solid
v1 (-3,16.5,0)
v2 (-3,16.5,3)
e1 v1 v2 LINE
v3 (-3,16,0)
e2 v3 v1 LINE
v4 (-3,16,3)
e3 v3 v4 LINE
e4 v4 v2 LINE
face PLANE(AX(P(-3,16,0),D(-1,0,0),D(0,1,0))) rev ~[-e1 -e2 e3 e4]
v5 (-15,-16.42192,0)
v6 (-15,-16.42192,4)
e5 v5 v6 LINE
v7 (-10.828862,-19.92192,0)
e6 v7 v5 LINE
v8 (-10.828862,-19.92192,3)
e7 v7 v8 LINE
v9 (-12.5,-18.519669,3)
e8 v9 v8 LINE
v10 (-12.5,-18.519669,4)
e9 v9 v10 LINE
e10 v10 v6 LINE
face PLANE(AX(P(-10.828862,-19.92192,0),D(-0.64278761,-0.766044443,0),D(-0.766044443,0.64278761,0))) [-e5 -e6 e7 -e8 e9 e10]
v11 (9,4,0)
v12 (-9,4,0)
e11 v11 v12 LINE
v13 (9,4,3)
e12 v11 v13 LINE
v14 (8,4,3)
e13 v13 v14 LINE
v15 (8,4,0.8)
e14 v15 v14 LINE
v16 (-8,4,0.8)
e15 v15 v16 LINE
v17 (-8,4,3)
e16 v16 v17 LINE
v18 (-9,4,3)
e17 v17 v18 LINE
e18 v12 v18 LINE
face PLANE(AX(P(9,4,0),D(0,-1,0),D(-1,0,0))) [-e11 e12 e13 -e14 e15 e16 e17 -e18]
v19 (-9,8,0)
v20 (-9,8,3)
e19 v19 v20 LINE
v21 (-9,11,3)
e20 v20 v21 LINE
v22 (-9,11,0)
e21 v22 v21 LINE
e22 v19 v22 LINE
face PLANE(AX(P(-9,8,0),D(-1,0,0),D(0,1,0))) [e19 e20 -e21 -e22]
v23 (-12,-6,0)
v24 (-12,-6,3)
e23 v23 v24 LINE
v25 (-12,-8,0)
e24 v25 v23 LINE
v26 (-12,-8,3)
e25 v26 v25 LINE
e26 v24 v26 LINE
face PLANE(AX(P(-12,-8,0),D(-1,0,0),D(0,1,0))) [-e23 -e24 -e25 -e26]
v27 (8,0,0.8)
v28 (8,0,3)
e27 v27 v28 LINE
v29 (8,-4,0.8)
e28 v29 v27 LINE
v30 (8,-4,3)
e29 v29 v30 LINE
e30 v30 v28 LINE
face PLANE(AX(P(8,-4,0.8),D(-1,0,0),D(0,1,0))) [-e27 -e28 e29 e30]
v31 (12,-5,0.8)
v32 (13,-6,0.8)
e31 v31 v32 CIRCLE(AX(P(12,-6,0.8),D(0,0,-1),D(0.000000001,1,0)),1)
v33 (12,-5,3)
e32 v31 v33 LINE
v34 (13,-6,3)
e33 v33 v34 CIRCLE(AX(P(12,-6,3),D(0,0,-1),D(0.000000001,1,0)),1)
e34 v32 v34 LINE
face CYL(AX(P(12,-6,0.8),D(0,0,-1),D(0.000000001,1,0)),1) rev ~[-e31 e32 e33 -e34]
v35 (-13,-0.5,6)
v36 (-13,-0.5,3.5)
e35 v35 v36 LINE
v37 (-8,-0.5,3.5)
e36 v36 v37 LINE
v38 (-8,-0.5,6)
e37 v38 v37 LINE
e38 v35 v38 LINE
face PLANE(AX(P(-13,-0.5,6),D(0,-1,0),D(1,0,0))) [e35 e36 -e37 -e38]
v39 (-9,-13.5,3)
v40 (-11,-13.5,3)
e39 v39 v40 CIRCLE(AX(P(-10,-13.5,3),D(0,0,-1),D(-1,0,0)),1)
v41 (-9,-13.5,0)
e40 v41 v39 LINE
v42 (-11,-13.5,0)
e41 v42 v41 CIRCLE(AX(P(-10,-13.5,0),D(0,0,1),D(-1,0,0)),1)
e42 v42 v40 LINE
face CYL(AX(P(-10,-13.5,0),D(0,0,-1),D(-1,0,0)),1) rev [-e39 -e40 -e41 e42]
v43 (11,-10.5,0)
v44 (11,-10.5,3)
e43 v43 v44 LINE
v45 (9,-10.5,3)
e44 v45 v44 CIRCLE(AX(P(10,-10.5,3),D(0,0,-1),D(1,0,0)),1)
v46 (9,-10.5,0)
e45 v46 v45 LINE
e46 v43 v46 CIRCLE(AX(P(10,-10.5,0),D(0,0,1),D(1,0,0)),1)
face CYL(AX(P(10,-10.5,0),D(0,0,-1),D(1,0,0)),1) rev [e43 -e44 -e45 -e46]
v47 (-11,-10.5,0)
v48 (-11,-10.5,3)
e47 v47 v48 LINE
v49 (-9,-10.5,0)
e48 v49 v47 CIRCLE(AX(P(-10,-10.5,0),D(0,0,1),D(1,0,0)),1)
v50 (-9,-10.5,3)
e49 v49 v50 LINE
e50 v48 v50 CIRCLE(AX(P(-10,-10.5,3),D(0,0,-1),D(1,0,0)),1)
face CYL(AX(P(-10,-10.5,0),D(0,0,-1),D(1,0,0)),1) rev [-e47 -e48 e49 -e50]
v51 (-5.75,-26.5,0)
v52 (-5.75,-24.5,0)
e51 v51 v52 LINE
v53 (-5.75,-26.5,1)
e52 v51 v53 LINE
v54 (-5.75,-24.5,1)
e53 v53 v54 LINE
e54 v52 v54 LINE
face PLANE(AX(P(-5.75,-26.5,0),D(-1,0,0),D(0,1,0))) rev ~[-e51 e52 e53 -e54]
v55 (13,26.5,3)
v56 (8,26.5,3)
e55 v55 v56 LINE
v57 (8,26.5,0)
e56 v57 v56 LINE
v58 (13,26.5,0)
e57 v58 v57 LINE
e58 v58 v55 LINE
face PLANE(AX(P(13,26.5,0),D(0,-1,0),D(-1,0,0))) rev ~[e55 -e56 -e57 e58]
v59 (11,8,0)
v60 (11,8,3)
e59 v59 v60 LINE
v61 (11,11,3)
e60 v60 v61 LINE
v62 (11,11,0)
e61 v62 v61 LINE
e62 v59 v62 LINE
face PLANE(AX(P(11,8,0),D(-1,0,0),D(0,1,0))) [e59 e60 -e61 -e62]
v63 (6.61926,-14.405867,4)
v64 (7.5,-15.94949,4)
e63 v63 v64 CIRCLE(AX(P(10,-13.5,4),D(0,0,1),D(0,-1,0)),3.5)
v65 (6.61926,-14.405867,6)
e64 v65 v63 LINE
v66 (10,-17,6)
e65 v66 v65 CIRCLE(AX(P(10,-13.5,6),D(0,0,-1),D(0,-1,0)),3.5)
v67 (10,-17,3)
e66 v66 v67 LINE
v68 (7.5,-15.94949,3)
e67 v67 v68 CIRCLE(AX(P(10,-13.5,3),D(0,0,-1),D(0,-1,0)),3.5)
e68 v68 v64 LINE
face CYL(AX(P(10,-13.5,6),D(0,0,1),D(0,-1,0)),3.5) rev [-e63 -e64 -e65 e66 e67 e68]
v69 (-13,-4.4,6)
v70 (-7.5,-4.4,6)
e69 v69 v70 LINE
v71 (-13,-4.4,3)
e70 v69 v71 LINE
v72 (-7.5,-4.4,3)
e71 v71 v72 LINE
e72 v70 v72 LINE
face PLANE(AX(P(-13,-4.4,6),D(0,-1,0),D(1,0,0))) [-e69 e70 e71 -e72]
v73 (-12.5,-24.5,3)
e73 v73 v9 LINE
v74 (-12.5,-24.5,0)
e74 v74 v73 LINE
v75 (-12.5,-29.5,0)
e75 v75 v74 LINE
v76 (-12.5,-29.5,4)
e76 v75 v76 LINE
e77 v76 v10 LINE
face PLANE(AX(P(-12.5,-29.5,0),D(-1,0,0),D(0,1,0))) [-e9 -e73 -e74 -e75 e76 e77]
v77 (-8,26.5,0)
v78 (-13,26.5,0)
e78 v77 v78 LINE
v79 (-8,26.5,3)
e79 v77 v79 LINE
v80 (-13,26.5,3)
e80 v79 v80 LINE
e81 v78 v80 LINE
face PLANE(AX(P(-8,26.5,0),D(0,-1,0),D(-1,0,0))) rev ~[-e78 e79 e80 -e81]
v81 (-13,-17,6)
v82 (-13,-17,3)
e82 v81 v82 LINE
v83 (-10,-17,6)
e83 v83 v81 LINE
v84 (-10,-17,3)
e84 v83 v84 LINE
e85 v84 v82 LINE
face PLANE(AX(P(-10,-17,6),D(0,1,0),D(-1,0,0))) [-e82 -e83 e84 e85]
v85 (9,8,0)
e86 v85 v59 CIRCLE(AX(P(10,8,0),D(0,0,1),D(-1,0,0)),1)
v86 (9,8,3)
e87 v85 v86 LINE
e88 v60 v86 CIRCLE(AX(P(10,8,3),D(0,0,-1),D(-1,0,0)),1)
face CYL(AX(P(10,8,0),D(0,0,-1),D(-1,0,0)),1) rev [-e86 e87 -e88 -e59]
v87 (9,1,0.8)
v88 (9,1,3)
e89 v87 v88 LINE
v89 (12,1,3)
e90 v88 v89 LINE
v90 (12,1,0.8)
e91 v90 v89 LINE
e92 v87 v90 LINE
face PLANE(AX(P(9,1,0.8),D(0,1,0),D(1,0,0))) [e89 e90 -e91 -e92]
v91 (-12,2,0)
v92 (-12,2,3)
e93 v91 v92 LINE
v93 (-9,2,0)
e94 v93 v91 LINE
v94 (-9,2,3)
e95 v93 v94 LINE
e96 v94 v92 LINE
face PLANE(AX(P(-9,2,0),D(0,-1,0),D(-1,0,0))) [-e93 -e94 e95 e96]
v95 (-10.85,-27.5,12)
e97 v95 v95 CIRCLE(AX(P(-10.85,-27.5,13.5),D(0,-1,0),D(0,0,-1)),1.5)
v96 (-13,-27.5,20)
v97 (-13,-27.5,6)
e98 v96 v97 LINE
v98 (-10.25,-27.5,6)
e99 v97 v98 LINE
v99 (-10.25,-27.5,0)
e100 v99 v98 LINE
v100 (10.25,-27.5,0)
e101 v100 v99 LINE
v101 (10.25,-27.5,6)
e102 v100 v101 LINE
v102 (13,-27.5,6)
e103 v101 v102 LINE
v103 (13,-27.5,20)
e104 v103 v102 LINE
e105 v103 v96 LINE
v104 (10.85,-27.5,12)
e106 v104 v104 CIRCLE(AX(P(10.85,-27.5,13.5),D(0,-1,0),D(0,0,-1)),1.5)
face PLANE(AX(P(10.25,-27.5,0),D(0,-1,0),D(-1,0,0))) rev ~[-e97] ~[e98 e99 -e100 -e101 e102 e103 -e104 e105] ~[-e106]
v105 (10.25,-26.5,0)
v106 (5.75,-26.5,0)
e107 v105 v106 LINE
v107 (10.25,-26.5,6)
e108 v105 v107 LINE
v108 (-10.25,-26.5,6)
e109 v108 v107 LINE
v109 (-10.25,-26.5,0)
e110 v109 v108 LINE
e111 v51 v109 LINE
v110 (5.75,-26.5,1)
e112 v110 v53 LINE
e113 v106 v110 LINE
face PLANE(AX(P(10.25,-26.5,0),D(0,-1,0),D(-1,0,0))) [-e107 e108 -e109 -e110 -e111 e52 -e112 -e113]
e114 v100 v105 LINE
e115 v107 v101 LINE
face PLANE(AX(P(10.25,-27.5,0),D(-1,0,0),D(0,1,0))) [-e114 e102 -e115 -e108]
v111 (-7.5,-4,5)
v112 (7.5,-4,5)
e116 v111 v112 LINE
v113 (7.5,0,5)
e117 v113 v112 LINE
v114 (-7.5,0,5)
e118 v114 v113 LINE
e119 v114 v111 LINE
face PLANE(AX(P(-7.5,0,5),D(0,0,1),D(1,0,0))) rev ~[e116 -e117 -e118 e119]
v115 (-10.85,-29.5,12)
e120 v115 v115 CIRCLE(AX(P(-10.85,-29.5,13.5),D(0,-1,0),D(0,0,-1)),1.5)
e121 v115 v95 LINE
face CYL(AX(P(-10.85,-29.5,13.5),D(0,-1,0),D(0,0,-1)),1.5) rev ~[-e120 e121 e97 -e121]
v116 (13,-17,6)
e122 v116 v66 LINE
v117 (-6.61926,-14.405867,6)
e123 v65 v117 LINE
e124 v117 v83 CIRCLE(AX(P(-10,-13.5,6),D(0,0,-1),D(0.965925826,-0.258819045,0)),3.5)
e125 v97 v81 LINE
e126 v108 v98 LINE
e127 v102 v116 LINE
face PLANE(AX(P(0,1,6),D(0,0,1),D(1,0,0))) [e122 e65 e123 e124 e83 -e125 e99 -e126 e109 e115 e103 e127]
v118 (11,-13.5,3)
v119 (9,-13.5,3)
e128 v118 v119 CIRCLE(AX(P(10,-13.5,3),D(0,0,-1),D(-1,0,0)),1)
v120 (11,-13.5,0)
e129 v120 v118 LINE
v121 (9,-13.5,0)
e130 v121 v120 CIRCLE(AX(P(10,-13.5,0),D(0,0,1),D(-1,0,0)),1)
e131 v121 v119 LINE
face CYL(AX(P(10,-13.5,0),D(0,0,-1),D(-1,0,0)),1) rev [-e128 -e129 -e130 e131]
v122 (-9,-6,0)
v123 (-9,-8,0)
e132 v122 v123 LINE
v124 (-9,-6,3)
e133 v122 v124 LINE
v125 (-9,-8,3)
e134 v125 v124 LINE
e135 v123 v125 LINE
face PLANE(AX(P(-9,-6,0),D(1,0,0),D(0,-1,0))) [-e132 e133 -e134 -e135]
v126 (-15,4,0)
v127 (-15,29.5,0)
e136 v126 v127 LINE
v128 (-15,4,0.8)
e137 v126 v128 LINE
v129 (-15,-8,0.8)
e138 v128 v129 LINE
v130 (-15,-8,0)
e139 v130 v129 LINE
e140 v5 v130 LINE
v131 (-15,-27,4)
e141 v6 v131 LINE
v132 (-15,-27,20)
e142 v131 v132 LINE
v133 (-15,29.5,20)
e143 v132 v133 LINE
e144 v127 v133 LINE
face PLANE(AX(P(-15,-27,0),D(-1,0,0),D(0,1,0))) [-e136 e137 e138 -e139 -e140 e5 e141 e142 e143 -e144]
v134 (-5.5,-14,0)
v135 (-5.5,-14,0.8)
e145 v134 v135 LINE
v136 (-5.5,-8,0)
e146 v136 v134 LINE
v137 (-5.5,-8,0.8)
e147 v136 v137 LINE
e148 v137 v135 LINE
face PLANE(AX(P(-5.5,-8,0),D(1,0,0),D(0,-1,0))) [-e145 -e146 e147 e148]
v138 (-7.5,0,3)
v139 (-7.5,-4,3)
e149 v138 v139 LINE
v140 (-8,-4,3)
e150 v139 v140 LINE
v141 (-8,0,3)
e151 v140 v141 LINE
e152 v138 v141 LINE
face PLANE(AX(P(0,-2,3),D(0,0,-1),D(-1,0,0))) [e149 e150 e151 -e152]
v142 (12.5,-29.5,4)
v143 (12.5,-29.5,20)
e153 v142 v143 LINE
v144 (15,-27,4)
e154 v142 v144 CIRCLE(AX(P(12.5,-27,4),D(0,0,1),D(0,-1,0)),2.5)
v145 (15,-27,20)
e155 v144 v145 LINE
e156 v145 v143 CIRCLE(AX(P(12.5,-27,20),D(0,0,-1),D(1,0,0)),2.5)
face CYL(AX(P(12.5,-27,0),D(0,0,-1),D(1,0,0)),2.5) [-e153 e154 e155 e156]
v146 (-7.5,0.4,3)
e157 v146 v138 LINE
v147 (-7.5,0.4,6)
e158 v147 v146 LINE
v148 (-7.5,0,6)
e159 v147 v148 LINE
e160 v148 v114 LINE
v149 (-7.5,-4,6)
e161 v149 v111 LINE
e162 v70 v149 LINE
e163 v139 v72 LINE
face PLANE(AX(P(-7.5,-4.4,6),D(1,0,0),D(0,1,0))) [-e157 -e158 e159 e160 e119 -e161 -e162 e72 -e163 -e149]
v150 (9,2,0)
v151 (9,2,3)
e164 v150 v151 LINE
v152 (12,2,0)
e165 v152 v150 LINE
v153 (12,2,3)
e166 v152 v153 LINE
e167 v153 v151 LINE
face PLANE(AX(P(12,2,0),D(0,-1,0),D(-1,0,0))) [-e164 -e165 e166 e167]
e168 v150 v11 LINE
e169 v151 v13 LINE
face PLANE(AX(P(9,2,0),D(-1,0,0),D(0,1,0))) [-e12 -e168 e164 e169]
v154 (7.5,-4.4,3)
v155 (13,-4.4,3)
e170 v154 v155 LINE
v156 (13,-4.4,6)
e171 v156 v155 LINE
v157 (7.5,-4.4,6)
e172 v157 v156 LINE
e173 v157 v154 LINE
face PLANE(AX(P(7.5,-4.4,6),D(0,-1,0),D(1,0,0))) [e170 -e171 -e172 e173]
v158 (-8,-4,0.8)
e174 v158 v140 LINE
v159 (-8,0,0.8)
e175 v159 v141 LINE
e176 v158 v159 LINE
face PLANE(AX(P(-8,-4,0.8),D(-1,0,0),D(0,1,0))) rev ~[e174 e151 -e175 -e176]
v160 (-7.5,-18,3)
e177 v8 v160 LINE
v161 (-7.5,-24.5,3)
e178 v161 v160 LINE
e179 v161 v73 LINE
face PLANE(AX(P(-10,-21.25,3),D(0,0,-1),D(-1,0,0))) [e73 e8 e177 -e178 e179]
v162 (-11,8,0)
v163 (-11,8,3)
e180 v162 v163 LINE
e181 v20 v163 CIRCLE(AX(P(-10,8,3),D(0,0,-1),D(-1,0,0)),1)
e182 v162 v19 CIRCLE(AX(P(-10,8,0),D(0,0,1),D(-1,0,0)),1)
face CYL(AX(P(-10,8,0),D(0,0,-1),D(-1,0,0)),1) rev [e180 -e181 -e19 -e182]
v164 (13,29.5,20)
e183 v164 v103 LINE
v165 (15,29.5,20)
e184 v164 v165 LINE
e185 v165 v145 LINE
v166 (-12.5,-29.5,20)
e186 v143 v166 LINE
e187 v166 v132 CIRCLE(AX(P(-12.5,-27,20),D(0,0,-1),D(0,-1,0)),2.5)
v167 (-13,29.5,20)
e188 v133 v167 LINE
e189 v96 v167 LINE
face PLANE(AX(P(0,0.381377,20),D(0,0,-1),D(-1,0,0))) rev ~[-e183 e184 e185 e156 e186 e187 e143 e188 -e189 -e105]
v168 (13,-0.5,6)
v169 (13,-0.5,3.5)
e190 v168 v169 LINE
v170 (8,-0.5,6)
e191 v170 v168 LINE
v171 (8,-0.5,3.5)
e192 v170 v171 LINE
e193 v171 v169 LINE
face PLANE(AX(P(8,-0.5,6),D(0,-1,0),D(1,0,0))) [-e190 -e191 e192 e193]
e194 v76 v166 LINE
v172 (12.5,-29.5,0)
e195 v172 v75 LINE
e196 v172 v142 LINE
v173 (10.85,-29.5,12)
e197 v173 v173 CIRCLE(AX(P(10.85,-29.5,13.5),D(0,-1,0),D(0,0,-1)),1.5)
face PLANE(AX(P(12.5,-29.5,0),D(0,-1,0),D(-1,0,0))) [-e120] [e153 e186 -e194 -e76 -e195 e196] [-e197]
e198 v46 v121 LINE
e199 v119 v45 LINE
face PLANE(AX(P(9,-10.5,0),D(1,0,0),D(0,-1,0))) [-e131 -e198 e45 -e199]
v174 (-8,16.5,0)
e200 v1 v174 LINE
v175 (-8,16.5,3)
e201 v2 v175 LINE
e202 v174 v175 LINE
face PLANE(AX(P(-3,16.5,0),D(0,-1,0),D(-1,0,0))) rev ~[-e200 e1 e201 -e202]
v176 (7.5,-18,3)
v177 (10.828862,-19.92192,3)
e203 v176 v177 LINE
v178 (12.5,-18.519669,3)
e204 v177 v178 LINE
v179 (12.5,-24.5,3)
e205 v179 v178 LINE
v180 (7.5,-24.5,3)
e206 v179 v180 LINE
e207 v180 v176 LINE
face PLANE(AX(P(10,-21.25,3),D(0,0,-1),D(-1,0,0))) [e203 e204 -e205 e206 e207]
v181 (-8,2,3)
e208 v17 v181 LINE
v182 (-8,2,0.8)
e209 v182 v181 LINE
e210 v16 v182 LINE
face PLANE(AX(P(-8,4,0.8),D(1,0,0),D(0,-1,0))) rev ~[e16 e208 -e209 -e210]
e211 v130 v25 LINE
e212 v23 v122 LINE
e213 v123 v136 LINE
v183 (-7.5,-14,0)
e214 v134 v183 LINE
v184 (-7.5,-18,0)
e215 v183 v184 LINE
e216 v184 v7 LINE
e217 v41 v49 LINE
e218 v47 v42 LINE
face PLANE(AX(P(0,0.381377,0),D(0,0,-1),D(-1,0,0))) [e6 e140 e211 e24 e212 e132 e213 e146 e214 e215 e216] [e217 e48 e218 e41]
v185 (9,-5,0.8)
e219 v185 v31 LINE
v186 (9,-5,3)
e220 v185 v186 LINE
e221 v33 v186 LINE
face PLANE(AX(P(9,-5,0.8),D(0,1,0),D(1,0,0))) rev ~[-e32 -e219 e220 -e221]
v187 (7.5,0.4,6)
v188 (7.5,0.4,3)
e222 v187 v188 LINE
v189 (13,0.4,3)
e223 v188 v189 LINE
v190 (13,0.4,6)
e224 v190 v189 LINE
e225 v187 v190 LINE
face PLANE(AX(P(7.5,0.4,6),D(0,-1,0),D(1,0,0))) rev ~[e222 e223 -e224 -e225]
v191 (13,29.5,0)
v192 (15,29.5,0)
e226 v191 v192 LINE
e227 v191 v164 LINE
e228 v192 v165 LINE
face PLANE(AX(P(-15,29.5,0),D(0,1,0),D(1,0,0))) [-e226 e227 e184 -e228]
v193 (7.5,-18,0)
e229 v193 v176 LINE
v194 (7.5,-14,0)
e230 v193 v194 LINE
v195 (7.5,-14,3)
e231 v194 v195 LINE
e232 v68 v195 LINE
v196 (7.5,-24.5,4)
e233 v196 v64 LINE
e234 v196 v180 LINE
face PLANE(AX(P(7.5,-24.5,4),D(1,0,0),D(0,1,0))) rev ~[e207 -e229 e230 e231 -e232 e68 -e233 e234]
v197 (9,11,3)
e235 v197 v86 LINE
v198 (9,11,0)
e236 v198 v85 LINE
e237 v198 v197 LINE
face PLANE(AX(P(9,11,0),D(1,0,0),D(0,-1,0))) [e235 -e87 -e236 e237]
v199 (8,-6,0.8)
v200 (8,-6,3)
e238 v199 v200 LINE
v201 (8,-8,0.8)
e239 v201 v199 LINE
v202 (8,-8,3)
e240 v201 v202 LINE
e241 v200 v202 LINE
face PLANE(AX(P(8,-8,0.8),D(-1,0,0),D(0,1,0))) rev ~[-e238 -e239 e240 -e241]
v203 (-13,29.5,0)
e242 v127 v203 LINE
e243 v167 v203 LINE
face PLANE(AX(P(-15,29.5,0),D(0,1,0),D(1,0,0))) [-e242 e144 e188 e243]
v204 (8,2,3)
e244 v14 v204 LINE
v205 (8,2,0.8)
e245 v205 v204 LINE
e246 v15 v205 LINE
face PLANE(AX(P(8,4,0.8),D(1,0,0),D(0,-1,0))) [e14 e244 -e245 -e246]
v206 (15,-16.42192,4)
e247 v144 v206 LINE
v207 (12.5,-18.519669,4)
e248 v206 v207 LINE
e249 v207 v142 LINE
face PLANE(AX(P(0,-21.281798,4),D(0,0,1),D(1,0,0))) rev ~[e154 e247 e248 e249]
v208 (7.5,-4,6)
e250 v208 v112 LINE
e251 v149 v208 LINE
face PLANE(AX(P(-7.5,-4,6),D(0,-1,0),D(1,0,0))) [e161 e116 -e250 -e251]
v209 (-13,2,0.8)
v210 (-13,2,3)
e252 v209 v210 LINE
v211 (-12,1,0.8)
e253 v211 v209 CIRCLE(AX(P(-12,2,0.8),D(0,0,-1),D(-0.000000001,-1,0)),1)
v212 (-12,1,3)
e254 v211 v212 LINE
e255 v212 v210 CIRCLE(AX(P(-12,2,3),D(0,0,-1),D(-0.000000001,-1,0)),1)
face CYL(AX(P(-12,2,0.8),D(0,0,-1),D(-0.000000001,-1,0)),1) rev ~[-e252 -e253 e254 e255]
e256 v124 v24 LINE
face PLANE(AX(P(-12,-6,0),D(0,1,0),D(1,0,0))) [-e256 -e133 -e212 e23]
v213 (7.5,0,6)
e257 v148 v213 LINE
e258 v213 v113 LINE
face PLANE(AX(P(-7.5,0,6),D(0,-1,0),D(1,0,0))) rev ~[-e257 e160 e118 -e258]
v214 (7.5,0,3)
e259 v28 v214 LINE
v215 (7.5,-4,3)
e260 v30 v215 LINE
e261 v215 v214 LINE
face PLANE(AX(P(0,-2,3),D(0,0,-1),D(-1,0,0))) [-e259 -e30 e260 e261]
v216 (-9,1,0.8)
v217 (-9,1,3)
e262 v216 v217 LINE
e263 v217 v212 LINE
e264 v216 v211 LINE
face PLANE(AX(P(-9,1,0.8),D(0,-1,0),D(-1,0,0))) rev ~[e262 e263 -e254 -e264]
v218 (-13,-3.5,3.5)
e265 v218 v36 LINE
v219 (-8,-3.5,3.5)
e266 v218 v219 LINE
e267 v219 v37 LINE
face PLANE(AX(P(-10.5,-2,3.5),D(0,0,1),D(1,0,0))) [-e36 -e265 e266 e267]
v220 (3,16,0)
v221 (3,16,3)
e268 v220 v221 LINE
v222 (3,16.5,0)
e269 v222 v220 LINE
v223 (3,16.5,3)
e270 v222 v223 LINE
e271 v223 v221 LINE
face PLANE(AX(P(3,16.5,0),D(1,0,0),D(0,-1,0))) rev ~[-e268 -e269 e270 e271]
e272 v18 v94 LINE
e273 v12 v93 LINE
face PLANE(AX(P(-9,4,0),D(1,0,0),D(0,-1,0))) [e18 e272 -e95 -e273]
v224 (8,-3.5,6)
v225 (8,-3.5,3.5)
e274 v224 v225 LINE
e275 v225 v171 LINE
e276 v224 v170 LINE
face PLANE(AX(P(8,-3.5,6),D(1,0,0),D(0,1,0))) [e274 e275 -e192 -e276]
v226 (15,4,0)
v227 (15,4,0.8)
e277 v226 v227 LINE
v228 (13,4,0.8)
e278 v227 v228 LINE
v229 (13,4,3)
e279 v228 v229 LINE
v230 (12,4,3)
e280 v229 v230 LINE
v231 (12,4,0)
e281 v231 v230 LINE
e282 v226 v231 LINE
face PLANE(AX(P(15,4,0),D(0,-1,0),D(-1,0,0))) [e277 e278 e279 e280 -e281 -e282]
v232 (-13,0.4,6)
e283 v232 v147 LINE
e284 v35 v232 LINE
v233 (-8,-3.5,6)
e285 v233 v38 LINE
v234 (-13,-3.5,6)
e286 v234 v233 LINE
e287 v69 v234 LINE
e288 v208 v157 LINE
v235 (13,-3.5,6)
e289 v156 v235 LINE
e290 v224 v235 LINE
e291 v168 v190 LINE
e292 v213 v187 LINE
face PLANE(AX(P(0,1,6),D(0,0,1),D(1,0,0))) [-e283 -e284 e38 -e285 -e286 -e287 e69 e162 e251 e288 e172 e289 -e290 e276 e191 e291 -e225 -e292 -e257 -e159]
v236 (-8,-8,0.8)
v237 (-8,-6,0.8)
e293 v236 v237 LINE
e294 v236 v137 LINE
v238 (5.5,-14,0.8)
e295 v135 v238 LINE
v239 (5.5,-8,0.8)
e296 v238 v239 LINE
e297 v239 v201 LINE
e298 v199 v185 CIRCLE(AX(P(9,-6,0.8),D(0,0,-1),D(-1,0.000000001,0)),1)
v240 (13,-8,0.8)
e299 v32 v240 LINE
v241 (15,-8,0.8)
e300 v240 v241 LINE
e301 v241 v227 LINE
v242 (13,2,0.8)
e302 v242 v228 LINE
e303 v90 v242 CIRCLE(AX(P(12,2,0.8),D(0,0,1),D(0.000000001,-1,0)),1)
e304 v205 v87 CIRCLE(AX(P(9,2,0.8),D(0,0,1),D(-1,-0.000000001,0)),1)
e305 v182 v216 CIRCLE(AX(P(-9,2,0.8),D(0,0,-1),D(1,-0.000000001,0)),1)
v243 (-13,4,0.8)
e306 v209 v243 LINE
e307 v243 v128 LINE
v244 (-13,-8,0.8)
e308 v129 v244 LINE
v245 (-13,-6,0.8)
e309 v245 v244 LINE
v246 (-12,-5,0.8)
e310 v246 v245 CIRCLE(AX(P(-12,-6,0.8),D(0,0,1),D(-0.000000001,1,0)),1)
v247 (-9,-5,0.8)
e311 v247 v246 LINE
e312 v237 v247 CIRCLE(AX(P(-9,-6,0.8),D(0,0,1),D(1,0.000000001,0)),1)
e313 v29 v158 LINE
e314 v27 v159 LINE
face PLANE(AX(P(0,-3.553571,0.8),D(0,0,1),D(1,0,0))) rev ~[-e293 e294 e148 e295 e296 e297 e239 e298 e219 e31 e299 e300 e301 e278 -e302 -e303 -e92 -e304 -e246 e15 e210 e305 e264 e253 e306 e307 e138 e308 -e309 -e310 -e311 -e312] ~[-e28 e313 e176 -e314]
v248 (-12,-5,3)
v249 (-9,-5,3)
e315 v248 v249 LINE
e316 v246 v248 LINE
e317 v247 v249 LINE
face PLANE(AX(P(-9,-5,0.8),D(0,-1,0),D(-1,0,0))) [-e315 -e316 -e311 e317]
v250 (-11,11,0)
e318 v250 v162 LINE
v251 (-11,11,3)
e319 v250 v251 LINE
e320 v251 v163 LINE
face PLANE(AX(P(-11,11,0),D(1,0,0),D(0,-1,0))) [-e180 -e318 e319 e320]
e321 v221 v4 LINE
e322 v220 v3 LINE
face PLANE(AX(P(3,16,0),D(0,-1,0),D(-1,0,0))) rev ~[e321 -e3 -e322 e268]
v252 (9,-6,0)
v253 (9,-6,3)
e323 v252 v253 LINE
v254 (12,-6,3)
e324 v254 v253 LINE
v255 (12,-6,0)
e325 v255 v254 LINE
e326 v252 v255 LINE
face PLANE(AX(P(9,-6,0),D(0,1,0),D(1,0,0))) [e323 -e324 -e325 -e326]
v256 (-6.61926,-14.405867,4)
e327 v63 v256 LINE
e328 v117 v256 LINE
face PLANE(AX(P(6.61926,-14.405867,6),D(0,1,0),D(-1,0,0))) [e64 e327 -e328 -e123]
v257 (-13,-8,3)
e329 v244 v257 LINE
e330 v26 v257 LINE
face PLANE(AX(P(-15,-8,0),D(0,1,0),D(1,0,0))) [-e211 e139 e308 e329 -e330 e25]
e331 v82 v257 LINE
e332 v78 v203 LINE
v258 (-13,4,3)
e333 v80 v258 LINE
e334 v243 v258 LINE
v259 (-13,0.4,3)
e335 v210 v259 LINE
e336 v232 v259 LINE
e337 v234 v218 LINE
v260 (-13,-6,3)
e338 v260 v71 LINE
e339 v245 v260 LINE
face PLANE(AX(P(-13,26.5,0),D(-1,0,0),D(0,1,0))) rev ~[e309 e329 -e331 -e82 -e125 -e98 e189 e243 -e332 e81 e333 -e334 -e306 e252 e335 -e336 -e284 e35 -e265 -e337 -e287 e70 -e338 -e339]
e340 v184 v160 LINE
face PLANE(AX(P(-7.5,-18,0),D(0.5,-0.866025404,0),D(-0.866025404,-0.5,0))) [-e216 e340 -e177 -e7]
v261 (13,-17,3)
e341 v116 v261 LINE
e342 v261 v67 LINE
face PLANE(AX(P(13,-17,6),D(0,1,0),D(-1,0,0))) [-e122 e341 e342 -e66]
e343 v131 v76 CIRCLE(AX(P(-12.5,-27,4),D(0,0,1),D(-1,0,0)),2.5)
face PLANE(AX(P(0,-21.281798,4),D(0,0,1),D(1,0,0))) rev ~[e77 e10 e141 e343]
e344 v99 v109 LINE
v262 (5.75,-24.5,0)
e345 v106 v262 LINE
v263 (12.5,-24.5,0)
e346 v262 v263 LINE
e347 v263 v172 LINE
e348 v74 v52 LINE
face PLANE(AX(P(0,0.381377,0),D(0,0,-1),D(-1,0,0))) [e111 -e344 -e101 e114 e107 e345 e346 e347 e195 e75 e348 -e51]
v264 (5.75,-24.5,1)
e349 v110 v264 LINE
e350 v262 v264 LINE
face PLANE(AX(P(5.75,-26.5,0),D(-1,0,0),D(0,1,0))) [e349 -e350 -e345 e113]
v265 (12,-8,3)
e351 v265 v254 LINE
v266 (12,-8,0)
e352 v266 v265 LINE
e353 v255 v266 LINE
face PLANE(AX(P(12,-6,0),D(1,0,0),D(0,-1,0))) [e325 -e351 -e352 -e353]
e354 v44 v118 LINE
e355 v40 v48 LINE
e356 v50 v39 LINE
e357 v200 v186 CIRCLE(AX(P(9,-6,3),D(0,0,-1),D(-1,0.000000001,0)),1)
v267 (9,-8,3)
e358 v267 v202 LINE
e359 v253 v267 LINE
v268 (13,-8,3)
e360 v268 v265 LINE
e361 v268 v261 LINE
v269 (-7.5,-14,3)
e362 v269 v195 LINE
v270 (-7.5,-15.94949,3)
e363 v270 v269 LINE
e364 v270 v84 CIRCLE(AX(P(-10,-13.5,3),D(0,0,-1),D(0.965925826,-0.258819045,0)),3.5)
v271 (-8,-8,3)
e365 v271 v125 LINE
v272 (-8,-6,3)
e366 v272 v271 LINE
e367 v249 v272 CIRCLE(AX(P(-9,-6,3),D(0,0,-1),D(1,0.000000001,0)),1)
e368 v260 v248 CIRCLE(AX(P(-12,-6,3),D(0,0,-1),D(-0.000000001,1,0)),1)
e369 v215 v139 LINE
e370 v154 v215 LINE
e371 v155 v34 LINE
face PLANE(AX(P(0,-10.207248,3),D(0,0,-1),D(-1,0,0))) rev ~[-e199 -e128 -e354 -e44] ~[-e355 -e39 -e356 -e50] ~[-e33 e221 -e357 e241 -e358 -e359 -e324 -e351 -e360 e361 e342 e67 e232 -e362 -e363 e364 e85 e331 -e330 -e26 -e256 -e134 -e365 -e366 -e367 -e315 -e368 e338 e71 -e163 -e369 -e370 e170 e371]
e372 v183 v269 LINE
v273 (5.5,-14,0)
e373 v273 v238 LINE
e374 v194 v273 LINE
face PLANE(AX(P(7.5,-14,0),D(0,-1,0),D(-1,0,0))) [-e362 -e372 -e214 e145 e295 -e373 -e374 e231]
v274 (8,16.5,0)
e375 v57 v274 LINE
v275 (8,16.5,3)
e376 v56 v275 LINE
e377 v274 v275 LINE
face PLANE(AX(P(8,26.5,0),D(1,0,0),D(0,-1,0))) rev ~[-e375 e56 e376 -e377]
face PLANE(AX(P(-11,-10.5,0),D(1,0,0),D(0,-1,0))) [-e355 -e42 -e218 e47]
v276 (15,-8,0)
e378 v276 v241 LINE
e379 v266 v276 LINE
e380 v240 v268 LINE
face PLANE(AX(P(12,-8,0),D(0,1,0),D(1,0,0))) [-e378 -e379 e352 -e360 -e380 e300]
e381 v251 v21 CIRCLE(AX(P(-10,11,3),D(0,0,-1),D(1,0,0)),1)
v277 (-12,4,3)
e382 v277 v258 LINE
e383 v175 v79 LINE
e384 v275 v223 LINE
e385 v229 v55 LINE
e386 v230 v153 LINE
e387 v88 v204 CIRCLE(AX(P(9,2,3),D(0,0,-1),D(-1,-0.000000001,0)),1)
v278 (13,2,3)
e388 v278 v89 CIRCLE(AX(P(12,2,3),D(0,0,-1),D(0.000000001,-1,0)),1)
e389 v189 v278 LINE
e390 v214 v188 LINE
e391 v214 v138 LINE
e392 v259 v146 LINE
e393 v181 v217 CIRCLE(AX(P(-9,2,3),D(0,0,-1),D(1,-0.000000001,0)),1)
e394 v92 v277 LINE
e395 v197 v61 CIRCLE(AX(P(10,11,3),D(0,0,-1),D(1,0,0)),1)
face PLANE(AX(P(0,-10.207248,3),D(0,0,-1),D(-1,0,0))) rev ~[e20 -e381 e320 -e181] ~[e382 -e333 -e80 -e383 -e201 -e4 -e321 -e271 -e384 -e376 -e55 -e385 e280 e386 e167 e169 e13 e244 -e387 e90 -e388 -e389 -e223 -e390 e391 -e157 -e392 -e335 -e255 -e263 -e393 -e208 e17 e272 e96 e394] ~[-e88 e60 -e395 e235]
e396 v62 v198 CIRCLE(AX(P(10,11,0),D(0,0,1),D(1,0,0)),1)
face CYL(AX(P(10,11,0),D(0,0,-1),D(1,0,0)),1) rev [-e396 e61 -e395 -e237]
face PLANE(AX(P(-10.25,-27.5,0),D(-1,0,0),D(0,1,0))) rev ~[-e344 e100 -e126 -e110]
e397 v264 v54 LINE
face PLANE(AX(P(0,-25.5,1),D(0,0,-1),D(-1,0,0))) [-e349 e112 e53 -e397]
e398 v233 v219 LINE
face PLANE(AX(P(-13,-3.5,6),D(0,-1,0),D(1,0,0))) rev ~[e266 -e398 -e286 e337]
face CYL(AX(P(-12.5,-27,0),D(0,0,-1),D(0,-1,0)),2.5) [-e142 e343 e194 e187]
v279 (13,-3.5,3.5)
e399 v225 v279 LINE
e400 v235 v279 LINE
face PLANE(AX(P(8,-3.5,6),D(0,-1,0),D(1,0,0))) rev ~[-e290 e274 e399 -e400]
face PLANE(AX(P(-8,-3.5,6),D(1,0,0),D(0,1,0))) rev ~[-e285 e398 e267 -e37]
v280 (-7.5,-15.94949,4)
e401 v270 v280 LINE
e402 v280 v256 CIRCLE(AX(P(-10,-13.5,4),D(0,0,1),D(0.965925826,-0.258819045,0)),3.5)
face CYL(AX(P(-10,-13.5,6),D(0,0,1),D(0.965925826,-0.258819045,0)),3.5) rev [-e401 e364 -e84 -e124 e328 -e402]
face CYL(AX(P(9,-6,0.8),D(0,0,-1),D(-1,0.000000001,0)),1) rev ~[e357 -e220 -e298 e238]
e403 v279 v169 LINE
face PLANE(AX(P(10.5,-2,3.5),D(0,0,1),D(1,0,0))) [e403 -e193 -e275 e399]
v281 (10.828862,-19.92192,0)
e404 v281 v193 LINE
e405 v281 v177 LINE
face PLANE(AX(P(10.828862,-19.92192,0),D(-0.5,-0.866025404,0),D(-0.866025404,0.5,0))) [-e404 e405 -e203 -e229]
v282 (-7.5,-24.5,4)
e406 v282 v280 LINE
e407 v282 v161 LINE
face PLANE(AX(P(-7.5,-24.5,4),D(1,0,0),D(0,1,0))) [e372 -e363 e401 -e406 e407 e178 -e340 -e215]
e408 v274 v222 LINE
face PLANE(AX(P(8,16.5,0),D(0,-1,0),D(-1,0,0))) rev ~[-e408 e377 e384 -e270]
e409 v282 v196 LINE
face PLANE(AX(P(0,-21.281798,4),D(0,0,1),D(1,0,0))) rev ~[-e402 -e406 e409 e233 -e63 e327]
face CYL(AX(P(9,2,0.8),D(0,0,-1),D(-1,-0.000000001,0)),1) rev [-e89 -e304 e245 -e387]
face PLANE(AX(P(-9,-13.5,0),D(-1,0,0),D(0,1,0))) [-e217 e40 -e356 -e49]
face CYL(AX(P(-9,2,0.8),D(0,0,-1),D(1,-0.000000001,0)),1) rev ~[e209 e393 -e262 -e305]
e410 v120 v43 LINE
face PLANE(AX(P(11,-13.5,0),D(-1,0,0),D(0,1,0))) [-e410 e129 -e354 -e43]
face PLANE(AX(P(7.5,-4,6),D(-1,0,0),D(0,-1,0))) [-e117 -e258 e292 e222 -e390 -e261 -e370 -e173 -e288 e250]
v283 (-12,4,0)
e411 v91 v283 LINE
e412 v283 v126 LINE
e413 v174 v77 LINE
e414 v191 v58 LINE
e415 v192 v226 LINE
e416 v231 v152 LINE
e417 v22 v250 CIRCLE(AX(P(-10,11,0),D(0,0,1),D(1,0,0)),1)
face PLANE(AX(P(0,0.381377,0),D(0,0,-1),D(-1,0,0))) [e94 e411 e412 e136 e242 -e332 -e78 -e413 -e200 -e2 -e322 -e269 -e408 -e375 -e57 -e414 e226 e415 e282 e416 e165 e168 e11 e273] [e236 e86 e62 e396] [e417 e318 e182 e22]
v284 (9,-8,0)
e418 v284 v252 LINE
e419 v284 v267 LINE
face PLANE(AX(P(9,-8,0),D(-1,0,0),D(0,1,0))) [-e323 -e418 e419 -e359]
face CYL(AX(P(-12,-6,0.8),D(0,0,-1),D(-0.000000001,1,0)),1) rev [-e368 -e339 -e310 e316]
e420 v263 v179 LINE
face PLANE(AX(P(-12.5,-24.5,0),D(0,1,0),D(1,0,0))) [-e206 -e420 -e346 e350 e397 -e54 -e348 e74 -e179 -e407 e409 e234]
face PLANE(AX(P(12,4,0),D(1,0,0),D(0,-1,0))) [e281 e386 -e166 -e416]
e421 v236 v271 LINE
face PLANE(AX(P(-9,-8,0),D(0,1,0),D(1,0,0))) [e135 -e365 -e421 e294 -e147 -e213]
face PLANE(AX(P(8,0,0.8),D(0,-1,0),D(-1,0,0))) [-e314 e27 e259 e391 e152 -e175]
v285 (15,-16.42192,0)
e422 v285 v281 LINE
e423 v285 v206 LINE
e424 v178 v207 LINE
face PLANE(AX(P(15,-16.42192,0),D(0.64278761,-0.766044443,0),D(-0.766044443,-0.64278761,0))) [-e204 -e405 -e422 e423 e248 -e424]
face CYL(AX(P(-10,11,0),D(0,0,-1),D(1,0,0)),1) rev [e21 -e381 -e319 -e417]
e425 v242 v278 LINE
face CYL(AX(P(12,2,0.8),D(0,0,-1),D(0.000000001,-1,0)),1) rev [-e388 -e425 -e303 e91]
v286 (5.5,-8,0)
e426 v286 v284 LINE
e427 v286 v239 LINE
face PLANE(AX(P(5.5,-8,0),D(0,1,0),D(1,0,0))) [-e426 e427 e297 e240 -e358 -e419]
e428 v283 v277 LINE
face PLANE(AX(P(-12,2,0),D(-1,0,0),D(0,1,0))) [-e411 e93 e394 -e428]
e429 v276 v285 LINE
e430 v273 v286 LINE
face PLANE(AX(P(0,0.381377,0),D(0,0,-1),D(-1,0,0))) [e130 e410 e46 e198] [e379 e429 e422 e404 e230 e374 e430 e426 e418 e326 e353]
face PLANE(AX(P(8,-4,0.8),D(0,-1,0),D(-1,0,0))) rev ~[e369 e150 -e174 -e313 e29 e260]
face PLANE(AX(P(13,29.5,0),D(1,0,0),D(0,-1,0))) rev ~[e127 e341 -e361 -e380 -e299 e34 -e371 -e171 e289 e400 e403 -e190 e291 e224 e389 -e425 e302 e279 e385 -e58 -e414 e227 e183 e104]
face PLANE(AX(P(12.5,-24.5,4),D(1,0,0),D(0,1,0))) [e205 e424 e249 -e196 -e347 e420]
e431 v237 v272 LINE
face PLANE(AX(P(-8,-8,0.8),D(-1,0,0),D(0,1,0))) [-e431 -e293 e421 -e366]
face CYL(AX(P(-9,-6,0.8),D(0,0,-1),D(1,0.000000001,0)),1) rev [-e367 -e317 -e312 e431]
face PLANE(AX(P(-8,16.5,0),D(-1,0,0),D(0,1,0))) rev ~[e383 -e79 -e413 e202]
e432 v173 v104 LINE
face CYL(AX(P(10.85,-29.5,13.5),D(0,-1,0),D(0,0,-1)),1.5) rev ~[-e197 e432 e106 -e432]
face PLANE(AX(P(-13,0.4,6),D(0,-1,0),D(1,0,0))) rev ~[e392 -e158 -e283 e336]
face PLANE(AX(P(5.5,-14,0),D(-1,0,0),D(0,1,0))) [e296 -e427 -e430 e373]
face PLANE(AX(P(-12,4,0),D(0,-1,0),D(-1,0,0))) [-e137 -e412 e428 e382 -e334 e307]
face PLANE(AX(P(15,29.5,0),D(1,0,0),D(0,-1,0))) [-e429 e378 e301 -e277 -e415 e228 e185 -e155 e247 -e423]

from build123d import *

# Parameters (mm, degrees)
BOSS_EXTRUDE1_DEPTH = 20
CUT_EXTRUDE1_DEPTH  = 39.668462602
CUT_EXTRUDE2_DEPTH  = 39.668462602
SKETCH4_W           = 26
SKETCH4_H           = 57
CUT_EXTRUDE3_DEPTH  = 14
CUT_EXTRUDE4_DEPTH  = 0.8
CUT_EXTRUDE5_DEPTH  = 39.260815464
CUT_EXTRUDE6_DEPTH  = 4
SKETCH8_W           = 5
SKETCH8_H           = 6.5
BOSS_EXTRUDE2_DEPTH = 1
SKETCH9_W           = 20.5
SKETCH9_H           = 1
CUT_EXTRUDE7_DEPTH  = 39.668462602
SKETCH10_W          = 11.5
SKETCH10_H          = 2
CUT_EXTRUDE8_DEPTH  = 1
CUT_EXTRUDE9_DEPTH  = 3
CUT_EXTRUDE10_REACH = 40.668
SKETCH12_W          = 15
SKETCH12_H          = 2
SKETCH13_W          = 16
SKETCH13_H          = 4
CUT_EXTRUDE11_DEPTH = 2.2
SKETCH14_W          = 5
SKETCH14_H          = 3
CUT_EXTRUDE12_DEPTH = 2.5
CUT_EXTRUDE13_REACH = 66.078
SKETCH15_R          = 1.5


with BuildPart() as part:
    # Sketch1 → Boss-Extrude1 (new body)
    with BuildSketch(Plane.XY):
        with BuildLine():
            Line((-15, 29.5), (15, 29.5))
            Line((15, 29.5), (15, -27))
            ThreePointArc((15, -27), (14.267766953, -28.767766953), (12.5, -29.5))
            Line((12.5, -29.5), (-12.5, -29.5))
            ThreePointArc((-12.5, -29.5), (-14.267766953, -28.767766953), (-15, -27))
            Line((-15, -27), (-15, 29.5))
        make_face()
    extrude(amount=BOSS_EXTRUDE1_DEPTH)

    # Sketch2 → Cut-Extrude1 (cut, through all)
    with BuildSketch(Plane(origin=(0, 0, 0), x_dir=(-1, 0, 0), z_dir=(0, 0, -1))):
        Polygon((-13, 29.5), (-13, 26.5), (-8, 26.5), (-8, 16.5), (-3, 16.5), (-3, 16), (3, 16), (3, 16.5), (8, 16.5), (8, 26.5), (13, 26.5), (13, 29.5), align=None)
    extrude(amount=-CUT_EXTRUDE1_DEPTH, mode=Mode.SUBTRACT)

    # Sketch3 → Cut-Extrude2 (cut, through all)
    with BuildSketch(Plane(origin=(0, 0, 0), x_dir=(-1, 0, 0), z_dir=(0, 0, -1))):
        with BuildLine():
            Line((-9, 11), (-9, 8))
            ThreePointArc((-9, 8), (-10, 7), (-11, 8))
            Line((-11, 8), (-11, 11))
            ThreePointArc((-11, 11), (-10, 12), (-9, 11))
        make_face()
        with BuildLine():
            Line((9, 8), (9, 11))
            ThreePointArc((9, 11), (10, 12), (11, 11))
            Line((11, 11), (11, 8))
            ThreePointArc((11, 8), (10, 7), (9, 8))
        make_face()
        with BuildLine():
            Line((9, -13.5), (9, -10.5))
            ThreePointArc((9, -10.5), (10, -9.5), (11, -10.5))
            Line((11, -10.5), (11, -13.5))
            ThreePointArc((11, -13.5), (10, -14.5), (9, -13.5))
        make_face()
        with BuildLine():
            Line((-9, -10.5), (-9, -13.5))
            ThreePointArc((-9, -13.5), (-10, -14.5), (-11, -13.5))
            Line((-11, -13.5), (-11, -10.5))
            ThreePointArc((-11, -10.5), (-10, -9.5), (-9, -10.5))
        make_face()
    extrude(amount=-CUT_EXTRUDE2_DEPTH, mode=Mode.SUBTRACT)

    # Sketch4 → Cut-Extrude3 (cut)
    with BuildSketch(Plane.XY.offset(20)):
        with Locations((0, 1)):
            Rectangle(SKETCH4_W, SKETCH4_H)
    extrude(amount=-CUT_EXTRUDE3_DEPTH, mode=Mode.SUBTRACT)

    # Sketch5 → Cut-Extrude4 (cut)
    with BuildSketch(Plane(origin=(0, 0, 0), x_dir=(-1, 0, 0), z_dir=(0, 0, -1))):
        Polygon((-15, 4), (-12, 4), (-12, 2), (-9, 2), (-9, 4), (9, 4), (9, 2), (12, 2), (12, 4), (15, 4), (15, -8), (12, -8), (12, -6), (9, -6), (9, -8), (5.5, -8), (5.5, -14), (-5.5, -14), (-5.5, -8), (-9, -8), (-9, -6), (-12, -6), (-12, -8), (-15, -8), align=None)
    extrude(amount=-CUT_EXTRUDE4_DEPTH, mode=Mode.SUBTRACT)

    # Sketch6 → Cut-Extrude5 (cut, through all)
    with BuildSketch(Plane(origin=(0, 0, 0.8), x_dir=(-1, 0, 0), z_dir=(0, 0, -1))):
        with BuildLine():
            Line((-12, 4), (-12, 2))
            Line((-12, 2), (-9, 2))
            Line((-9, 2), (-9, 4))
            Line((-9, 4), (-8, 4))
            Line((-8, 4), (-8, 2))
            ThreePointArc((-8, 2), (-8.292893219, 1.292893219), (-9, 1))
            Line((-9, 1), (-12, 1))
            ThreePointArc((-12, 1), (-12.707106781, 1.292893219), (-13, 2))
            Line((-13, 2), (-13, 4))
            Line((-13, 4), (-12, 4))
        make_face()
        with BuildLine():
            Line((13, 4), (12, 4))
            Line((12, 4), (12, 2))
            Line((12, 2), (9, 2))
            Line((9, 2), (9, 4))
            Line((9, 4), (8, 4))
            Line((8, 4), (8, 2))
            ThreePointArc((8, 2), (8.292893219, 1.292893219), (9, 1))
            Line((9, 1), (12, 1))
            ThreePointArc((12, 1), (12.707106781, 1.292893219), (13, 2))
            Line((13, 2), (13, 4))
        make_face()
        with BuildLine():
            Line((12, -8), (12, -6))
            Line((12, -6), (9, -6))
            Line((9, -6), (9, -8))
            Line((9, -8), (8, -8))
            Line((8, -8), (8, -6))
            ThreePointArc((8, -6), (8.292893219, -5.292893219), (9, -5))
            Line((9, -5), (12, -5))
            ThreePointArc((12, -5), (12.707106781, -5.292893219), (13, -6))
            Line((13, -6), (13, -8))
            Line((13, -8), (12, -8))
        make_face()
        with BuildLine():
            Line((-13, -8), (-12, -8))
            Line((-12, -8), (-12, -6))
            Line((-12, -6), (-9, -6))
            Line((-9, -6), (-9, -8))
            Line((-9, -8), (-8, -8))
            Line((-8, -8), (-8, -6))
            ThreePointArc((-8, -6), (-8.292893219, -5.292893219), (-9, -5))
            Line((-9, -5), (-12, -5))
            ThreePointArc((-12, -5), (-12.707106781, -5.292893219), (-13, -6))
            Line((-13, -6), (-13, -8))
        make_face()
    extrude(amount=-CUT_EXTRUDE5_DEPTH, mode=Mode.SUBTRACT)

    # Sketch7 → Cut-Extrude6 (cut)
    with BuildSketch(Plane(origin=(0, 0, 0), x_dir=(-1, 0, 0), z_dir=(0, 0, -1))):
        with BuildLine():
            Line((-7.5, -14), (7.5, -14))
            Line((7.5, -14), (7.5, -18))
            Line((7.5, -18), (10.828862426, -19.921919618))
            Line((10.828862426, -19.921919618), (15, -16.421919618))
            Line((15, -16.421919618), (15, -27))
            ThreePointArc((15, -27), (14.267766953, -28.767766953), (12.5, -29.5))
            Line((12.5, -29.5), (12.5, -24.5))
            Line((12.5, -24.5), (-12.5, -24.5))
            Line((-12.5, -24.5), (-12.5, -29.5))
            ThreePointArc((-12.5, -29.5), (-14.267766953, -28.767766953), (-15, -27))
            Line((-15, -27), (-15, -16.421919618))
            Line((-15, -16.421919618), (-10.828862426, -19.921919618))
            Line((-10.828862426, -19.921919618), (-7.5, -18))
            Line((-7.5, -18), (-7.5, -14))
        make_face()
    extrude(amount=-CUT_EXTRUDE6_DEPTH, mode=Mode.SUBTRACT)

    # Sketch8 → Boss-Extrude2 (add)
    with BuildSketch(Plane(origin=(0, 0, 4), x_dir=(-1, 0, 0), z_dir=(0, 0, -1))):
        with Locations((-10, -21.25)):
            Rectangle(SKETCH8_W, SKETCH8_H)
        with Locations((10, -21.25)):
            Rectangle(SKETCH8_W, SKETCH8_H)
    extrude(amount=BOSS_EXTRUDE2_DEPTH)

    # Sketch9 → Cut-Extrude7 (cut, through all)
    with BuildSketch(Plane(origin=(0, 0, 0), x_dir=(-1, 0, 0), z_dir=(0, 0, -1))):
        with Locations((0, -27)):
            Rectangle(SKETCH9_W, SKETCH9_H)
    extrude(amount=-CUT_EXTRUDE7_DEPTH, mode=Mode.SUBTRACT)

    # Sketch10 → Cut-Extrude8 (cut)
    with BuildSketch(Plane(origin=(0, 0, 0), x_dir=(-1, 0, 0), z_dir=(0, 0, -1))):
        with Locations((0, -25.5)):
            Rectangle(SKETCH10_W, SKETCH10_H)
    extrude(amount=-CUT_EXTRUDE8_DEPTH, mode=Mode.SUBTRACT)

    # Sketch11 → Cut-Extrude9 (cut)
    with BuildSketch(Plane.XY.offset(6)):
        Polygon((-13, 26.5), (-13, 0.4), (-7.5, 0.4), (-7.5, 0), (7.5, 0), (7.5, 0.4), (13, 0.4), (13, 26.5), align=None)
        with BuildLine():
            Line((7.5, -4.4), (13, -4.4))
            Line((13, -4.4), (13, -17))
            Line((13, -17), (10, -17))
            ThreePointArc((10, -17), (7.869334998, -16.276736691), (6.619259608, -14.405866658))
            Line((6.619259608, -14.405866658), (-6.619259608, -14.405866658))
            ThreePointArc((-6.619259608, -14.405866658), (-7.869334998, -16.276736691), (-10, -17))
            Line((-10, -17), (-13, -17))
            Line((-13, -17), (-13, -4.4))
            Line((-13, -4.4), (-7.5, -4.4))
            Line((-7.5, -4.4), (-7.5, -4))
            Line((-7.5, -4), (7.5, -4))
            Line((7.5, -4), (7.5, -4.4))
        make_face()
    extrude(amount=-CUT_EXTRUDE9_DEPTH, mode=Mode.SUBTRACT)

    # Sketch12 → Cut-Extrude10 (cut, up to next)
    with BuildSketch(Plane(origin=(0, 0, 0), x_dir=(1, 0, 0), z_dir=(0, 1, 0)), mode=Mode.PRIVATE) as cut_extrude10_sk1:
        with Locations((0, -4)):
            Rectangle(SKETCH12_W, SKETCH12_H)
    cut_extrude10_tool1 = extrude(cut_extrude10_sk1.sketch, amount=-CUT_EXTRUDE10_REACH, mode=Mode.PRIVATE) & part.part
    add(cut_extrude10_tool1.solids().sort_by_distance((0, 0, 4))[0], mode=Mode.SUBTRACT)

    # Sketch13 → Cut-Extrude11 (cut)
    with BuildSketch(Plane(origin=(0, 0, 0.8), x_dir=(-1, 0, 0), z_dir=(0, 0, -1))):
        with Locations((0, -2)):
            Rectangle(SKETCH13_W, SKETCH13_H)
    extrude(amount=-CUT_EXTRUDE11_DEPTH, mode=Mode.SUBTRACT)

    # Sketch14 → Cut-Extrude12 (cut)
    with BuildSketch(Plane.XY.offset(6)):
        with Locations((-10.5, -2)):
            Rectangle(SKETCH14_W, SKETCH14_H)
        with Locations((10.5, -2)):
            Rectangle(SKETCH14_W, SKETCH14_H)
    extrude(amount=-CUT_EXTRUDE12_DEPTH, mode=Mode.SUBTRACT)

    # Sketch15 → Cut-Extrude13 (cut, up to next)
    with BuildSketch(Plane.XZ.offset(29.5), mode=Mode.PRIVATE) as cut_extrude13_sk1:
        with Locations(Location((-10.85, 13.5, 0), (0, 0, 270))):
            Circle(SKETCH15_R)
    cut_extrude13_tool1 = extrude(cut_extrude13_sk1.sketch, amount=-CUT_EXTRUDE13_REACH, mode=Mode.PRIVATE) & part.part
    # Sketch15 → Cut-Extrude13 (cut, up to next)
    with BuildSketch(Plane.XZ.offset(29.5), mode=Mode.PRIVATE) as cut_extrude13_sk2:
        with Locations(Location((10.85, 13.5, 0), (0, 0, 270))):
            Circle(SKETCH15_R)
    cut_extrude13_tool2 = extrude(cut_extrude13_sk2.sketch, amount=-CUT_EXTRUDE13_REACH, mode=Mode.PRIVATE) & part.part
    add(cut_extrude13_tool1.solids().sort_by_distance((-10.85, -29.5, 13.5))[0], mode=Mode.SUBTRACT)
    add(cut_extrude13_tool2.solids().sort_by_distance((10.85, -29.5, 13.5))[0], mode=Mode.SUBTRACT)


solid = part.part
